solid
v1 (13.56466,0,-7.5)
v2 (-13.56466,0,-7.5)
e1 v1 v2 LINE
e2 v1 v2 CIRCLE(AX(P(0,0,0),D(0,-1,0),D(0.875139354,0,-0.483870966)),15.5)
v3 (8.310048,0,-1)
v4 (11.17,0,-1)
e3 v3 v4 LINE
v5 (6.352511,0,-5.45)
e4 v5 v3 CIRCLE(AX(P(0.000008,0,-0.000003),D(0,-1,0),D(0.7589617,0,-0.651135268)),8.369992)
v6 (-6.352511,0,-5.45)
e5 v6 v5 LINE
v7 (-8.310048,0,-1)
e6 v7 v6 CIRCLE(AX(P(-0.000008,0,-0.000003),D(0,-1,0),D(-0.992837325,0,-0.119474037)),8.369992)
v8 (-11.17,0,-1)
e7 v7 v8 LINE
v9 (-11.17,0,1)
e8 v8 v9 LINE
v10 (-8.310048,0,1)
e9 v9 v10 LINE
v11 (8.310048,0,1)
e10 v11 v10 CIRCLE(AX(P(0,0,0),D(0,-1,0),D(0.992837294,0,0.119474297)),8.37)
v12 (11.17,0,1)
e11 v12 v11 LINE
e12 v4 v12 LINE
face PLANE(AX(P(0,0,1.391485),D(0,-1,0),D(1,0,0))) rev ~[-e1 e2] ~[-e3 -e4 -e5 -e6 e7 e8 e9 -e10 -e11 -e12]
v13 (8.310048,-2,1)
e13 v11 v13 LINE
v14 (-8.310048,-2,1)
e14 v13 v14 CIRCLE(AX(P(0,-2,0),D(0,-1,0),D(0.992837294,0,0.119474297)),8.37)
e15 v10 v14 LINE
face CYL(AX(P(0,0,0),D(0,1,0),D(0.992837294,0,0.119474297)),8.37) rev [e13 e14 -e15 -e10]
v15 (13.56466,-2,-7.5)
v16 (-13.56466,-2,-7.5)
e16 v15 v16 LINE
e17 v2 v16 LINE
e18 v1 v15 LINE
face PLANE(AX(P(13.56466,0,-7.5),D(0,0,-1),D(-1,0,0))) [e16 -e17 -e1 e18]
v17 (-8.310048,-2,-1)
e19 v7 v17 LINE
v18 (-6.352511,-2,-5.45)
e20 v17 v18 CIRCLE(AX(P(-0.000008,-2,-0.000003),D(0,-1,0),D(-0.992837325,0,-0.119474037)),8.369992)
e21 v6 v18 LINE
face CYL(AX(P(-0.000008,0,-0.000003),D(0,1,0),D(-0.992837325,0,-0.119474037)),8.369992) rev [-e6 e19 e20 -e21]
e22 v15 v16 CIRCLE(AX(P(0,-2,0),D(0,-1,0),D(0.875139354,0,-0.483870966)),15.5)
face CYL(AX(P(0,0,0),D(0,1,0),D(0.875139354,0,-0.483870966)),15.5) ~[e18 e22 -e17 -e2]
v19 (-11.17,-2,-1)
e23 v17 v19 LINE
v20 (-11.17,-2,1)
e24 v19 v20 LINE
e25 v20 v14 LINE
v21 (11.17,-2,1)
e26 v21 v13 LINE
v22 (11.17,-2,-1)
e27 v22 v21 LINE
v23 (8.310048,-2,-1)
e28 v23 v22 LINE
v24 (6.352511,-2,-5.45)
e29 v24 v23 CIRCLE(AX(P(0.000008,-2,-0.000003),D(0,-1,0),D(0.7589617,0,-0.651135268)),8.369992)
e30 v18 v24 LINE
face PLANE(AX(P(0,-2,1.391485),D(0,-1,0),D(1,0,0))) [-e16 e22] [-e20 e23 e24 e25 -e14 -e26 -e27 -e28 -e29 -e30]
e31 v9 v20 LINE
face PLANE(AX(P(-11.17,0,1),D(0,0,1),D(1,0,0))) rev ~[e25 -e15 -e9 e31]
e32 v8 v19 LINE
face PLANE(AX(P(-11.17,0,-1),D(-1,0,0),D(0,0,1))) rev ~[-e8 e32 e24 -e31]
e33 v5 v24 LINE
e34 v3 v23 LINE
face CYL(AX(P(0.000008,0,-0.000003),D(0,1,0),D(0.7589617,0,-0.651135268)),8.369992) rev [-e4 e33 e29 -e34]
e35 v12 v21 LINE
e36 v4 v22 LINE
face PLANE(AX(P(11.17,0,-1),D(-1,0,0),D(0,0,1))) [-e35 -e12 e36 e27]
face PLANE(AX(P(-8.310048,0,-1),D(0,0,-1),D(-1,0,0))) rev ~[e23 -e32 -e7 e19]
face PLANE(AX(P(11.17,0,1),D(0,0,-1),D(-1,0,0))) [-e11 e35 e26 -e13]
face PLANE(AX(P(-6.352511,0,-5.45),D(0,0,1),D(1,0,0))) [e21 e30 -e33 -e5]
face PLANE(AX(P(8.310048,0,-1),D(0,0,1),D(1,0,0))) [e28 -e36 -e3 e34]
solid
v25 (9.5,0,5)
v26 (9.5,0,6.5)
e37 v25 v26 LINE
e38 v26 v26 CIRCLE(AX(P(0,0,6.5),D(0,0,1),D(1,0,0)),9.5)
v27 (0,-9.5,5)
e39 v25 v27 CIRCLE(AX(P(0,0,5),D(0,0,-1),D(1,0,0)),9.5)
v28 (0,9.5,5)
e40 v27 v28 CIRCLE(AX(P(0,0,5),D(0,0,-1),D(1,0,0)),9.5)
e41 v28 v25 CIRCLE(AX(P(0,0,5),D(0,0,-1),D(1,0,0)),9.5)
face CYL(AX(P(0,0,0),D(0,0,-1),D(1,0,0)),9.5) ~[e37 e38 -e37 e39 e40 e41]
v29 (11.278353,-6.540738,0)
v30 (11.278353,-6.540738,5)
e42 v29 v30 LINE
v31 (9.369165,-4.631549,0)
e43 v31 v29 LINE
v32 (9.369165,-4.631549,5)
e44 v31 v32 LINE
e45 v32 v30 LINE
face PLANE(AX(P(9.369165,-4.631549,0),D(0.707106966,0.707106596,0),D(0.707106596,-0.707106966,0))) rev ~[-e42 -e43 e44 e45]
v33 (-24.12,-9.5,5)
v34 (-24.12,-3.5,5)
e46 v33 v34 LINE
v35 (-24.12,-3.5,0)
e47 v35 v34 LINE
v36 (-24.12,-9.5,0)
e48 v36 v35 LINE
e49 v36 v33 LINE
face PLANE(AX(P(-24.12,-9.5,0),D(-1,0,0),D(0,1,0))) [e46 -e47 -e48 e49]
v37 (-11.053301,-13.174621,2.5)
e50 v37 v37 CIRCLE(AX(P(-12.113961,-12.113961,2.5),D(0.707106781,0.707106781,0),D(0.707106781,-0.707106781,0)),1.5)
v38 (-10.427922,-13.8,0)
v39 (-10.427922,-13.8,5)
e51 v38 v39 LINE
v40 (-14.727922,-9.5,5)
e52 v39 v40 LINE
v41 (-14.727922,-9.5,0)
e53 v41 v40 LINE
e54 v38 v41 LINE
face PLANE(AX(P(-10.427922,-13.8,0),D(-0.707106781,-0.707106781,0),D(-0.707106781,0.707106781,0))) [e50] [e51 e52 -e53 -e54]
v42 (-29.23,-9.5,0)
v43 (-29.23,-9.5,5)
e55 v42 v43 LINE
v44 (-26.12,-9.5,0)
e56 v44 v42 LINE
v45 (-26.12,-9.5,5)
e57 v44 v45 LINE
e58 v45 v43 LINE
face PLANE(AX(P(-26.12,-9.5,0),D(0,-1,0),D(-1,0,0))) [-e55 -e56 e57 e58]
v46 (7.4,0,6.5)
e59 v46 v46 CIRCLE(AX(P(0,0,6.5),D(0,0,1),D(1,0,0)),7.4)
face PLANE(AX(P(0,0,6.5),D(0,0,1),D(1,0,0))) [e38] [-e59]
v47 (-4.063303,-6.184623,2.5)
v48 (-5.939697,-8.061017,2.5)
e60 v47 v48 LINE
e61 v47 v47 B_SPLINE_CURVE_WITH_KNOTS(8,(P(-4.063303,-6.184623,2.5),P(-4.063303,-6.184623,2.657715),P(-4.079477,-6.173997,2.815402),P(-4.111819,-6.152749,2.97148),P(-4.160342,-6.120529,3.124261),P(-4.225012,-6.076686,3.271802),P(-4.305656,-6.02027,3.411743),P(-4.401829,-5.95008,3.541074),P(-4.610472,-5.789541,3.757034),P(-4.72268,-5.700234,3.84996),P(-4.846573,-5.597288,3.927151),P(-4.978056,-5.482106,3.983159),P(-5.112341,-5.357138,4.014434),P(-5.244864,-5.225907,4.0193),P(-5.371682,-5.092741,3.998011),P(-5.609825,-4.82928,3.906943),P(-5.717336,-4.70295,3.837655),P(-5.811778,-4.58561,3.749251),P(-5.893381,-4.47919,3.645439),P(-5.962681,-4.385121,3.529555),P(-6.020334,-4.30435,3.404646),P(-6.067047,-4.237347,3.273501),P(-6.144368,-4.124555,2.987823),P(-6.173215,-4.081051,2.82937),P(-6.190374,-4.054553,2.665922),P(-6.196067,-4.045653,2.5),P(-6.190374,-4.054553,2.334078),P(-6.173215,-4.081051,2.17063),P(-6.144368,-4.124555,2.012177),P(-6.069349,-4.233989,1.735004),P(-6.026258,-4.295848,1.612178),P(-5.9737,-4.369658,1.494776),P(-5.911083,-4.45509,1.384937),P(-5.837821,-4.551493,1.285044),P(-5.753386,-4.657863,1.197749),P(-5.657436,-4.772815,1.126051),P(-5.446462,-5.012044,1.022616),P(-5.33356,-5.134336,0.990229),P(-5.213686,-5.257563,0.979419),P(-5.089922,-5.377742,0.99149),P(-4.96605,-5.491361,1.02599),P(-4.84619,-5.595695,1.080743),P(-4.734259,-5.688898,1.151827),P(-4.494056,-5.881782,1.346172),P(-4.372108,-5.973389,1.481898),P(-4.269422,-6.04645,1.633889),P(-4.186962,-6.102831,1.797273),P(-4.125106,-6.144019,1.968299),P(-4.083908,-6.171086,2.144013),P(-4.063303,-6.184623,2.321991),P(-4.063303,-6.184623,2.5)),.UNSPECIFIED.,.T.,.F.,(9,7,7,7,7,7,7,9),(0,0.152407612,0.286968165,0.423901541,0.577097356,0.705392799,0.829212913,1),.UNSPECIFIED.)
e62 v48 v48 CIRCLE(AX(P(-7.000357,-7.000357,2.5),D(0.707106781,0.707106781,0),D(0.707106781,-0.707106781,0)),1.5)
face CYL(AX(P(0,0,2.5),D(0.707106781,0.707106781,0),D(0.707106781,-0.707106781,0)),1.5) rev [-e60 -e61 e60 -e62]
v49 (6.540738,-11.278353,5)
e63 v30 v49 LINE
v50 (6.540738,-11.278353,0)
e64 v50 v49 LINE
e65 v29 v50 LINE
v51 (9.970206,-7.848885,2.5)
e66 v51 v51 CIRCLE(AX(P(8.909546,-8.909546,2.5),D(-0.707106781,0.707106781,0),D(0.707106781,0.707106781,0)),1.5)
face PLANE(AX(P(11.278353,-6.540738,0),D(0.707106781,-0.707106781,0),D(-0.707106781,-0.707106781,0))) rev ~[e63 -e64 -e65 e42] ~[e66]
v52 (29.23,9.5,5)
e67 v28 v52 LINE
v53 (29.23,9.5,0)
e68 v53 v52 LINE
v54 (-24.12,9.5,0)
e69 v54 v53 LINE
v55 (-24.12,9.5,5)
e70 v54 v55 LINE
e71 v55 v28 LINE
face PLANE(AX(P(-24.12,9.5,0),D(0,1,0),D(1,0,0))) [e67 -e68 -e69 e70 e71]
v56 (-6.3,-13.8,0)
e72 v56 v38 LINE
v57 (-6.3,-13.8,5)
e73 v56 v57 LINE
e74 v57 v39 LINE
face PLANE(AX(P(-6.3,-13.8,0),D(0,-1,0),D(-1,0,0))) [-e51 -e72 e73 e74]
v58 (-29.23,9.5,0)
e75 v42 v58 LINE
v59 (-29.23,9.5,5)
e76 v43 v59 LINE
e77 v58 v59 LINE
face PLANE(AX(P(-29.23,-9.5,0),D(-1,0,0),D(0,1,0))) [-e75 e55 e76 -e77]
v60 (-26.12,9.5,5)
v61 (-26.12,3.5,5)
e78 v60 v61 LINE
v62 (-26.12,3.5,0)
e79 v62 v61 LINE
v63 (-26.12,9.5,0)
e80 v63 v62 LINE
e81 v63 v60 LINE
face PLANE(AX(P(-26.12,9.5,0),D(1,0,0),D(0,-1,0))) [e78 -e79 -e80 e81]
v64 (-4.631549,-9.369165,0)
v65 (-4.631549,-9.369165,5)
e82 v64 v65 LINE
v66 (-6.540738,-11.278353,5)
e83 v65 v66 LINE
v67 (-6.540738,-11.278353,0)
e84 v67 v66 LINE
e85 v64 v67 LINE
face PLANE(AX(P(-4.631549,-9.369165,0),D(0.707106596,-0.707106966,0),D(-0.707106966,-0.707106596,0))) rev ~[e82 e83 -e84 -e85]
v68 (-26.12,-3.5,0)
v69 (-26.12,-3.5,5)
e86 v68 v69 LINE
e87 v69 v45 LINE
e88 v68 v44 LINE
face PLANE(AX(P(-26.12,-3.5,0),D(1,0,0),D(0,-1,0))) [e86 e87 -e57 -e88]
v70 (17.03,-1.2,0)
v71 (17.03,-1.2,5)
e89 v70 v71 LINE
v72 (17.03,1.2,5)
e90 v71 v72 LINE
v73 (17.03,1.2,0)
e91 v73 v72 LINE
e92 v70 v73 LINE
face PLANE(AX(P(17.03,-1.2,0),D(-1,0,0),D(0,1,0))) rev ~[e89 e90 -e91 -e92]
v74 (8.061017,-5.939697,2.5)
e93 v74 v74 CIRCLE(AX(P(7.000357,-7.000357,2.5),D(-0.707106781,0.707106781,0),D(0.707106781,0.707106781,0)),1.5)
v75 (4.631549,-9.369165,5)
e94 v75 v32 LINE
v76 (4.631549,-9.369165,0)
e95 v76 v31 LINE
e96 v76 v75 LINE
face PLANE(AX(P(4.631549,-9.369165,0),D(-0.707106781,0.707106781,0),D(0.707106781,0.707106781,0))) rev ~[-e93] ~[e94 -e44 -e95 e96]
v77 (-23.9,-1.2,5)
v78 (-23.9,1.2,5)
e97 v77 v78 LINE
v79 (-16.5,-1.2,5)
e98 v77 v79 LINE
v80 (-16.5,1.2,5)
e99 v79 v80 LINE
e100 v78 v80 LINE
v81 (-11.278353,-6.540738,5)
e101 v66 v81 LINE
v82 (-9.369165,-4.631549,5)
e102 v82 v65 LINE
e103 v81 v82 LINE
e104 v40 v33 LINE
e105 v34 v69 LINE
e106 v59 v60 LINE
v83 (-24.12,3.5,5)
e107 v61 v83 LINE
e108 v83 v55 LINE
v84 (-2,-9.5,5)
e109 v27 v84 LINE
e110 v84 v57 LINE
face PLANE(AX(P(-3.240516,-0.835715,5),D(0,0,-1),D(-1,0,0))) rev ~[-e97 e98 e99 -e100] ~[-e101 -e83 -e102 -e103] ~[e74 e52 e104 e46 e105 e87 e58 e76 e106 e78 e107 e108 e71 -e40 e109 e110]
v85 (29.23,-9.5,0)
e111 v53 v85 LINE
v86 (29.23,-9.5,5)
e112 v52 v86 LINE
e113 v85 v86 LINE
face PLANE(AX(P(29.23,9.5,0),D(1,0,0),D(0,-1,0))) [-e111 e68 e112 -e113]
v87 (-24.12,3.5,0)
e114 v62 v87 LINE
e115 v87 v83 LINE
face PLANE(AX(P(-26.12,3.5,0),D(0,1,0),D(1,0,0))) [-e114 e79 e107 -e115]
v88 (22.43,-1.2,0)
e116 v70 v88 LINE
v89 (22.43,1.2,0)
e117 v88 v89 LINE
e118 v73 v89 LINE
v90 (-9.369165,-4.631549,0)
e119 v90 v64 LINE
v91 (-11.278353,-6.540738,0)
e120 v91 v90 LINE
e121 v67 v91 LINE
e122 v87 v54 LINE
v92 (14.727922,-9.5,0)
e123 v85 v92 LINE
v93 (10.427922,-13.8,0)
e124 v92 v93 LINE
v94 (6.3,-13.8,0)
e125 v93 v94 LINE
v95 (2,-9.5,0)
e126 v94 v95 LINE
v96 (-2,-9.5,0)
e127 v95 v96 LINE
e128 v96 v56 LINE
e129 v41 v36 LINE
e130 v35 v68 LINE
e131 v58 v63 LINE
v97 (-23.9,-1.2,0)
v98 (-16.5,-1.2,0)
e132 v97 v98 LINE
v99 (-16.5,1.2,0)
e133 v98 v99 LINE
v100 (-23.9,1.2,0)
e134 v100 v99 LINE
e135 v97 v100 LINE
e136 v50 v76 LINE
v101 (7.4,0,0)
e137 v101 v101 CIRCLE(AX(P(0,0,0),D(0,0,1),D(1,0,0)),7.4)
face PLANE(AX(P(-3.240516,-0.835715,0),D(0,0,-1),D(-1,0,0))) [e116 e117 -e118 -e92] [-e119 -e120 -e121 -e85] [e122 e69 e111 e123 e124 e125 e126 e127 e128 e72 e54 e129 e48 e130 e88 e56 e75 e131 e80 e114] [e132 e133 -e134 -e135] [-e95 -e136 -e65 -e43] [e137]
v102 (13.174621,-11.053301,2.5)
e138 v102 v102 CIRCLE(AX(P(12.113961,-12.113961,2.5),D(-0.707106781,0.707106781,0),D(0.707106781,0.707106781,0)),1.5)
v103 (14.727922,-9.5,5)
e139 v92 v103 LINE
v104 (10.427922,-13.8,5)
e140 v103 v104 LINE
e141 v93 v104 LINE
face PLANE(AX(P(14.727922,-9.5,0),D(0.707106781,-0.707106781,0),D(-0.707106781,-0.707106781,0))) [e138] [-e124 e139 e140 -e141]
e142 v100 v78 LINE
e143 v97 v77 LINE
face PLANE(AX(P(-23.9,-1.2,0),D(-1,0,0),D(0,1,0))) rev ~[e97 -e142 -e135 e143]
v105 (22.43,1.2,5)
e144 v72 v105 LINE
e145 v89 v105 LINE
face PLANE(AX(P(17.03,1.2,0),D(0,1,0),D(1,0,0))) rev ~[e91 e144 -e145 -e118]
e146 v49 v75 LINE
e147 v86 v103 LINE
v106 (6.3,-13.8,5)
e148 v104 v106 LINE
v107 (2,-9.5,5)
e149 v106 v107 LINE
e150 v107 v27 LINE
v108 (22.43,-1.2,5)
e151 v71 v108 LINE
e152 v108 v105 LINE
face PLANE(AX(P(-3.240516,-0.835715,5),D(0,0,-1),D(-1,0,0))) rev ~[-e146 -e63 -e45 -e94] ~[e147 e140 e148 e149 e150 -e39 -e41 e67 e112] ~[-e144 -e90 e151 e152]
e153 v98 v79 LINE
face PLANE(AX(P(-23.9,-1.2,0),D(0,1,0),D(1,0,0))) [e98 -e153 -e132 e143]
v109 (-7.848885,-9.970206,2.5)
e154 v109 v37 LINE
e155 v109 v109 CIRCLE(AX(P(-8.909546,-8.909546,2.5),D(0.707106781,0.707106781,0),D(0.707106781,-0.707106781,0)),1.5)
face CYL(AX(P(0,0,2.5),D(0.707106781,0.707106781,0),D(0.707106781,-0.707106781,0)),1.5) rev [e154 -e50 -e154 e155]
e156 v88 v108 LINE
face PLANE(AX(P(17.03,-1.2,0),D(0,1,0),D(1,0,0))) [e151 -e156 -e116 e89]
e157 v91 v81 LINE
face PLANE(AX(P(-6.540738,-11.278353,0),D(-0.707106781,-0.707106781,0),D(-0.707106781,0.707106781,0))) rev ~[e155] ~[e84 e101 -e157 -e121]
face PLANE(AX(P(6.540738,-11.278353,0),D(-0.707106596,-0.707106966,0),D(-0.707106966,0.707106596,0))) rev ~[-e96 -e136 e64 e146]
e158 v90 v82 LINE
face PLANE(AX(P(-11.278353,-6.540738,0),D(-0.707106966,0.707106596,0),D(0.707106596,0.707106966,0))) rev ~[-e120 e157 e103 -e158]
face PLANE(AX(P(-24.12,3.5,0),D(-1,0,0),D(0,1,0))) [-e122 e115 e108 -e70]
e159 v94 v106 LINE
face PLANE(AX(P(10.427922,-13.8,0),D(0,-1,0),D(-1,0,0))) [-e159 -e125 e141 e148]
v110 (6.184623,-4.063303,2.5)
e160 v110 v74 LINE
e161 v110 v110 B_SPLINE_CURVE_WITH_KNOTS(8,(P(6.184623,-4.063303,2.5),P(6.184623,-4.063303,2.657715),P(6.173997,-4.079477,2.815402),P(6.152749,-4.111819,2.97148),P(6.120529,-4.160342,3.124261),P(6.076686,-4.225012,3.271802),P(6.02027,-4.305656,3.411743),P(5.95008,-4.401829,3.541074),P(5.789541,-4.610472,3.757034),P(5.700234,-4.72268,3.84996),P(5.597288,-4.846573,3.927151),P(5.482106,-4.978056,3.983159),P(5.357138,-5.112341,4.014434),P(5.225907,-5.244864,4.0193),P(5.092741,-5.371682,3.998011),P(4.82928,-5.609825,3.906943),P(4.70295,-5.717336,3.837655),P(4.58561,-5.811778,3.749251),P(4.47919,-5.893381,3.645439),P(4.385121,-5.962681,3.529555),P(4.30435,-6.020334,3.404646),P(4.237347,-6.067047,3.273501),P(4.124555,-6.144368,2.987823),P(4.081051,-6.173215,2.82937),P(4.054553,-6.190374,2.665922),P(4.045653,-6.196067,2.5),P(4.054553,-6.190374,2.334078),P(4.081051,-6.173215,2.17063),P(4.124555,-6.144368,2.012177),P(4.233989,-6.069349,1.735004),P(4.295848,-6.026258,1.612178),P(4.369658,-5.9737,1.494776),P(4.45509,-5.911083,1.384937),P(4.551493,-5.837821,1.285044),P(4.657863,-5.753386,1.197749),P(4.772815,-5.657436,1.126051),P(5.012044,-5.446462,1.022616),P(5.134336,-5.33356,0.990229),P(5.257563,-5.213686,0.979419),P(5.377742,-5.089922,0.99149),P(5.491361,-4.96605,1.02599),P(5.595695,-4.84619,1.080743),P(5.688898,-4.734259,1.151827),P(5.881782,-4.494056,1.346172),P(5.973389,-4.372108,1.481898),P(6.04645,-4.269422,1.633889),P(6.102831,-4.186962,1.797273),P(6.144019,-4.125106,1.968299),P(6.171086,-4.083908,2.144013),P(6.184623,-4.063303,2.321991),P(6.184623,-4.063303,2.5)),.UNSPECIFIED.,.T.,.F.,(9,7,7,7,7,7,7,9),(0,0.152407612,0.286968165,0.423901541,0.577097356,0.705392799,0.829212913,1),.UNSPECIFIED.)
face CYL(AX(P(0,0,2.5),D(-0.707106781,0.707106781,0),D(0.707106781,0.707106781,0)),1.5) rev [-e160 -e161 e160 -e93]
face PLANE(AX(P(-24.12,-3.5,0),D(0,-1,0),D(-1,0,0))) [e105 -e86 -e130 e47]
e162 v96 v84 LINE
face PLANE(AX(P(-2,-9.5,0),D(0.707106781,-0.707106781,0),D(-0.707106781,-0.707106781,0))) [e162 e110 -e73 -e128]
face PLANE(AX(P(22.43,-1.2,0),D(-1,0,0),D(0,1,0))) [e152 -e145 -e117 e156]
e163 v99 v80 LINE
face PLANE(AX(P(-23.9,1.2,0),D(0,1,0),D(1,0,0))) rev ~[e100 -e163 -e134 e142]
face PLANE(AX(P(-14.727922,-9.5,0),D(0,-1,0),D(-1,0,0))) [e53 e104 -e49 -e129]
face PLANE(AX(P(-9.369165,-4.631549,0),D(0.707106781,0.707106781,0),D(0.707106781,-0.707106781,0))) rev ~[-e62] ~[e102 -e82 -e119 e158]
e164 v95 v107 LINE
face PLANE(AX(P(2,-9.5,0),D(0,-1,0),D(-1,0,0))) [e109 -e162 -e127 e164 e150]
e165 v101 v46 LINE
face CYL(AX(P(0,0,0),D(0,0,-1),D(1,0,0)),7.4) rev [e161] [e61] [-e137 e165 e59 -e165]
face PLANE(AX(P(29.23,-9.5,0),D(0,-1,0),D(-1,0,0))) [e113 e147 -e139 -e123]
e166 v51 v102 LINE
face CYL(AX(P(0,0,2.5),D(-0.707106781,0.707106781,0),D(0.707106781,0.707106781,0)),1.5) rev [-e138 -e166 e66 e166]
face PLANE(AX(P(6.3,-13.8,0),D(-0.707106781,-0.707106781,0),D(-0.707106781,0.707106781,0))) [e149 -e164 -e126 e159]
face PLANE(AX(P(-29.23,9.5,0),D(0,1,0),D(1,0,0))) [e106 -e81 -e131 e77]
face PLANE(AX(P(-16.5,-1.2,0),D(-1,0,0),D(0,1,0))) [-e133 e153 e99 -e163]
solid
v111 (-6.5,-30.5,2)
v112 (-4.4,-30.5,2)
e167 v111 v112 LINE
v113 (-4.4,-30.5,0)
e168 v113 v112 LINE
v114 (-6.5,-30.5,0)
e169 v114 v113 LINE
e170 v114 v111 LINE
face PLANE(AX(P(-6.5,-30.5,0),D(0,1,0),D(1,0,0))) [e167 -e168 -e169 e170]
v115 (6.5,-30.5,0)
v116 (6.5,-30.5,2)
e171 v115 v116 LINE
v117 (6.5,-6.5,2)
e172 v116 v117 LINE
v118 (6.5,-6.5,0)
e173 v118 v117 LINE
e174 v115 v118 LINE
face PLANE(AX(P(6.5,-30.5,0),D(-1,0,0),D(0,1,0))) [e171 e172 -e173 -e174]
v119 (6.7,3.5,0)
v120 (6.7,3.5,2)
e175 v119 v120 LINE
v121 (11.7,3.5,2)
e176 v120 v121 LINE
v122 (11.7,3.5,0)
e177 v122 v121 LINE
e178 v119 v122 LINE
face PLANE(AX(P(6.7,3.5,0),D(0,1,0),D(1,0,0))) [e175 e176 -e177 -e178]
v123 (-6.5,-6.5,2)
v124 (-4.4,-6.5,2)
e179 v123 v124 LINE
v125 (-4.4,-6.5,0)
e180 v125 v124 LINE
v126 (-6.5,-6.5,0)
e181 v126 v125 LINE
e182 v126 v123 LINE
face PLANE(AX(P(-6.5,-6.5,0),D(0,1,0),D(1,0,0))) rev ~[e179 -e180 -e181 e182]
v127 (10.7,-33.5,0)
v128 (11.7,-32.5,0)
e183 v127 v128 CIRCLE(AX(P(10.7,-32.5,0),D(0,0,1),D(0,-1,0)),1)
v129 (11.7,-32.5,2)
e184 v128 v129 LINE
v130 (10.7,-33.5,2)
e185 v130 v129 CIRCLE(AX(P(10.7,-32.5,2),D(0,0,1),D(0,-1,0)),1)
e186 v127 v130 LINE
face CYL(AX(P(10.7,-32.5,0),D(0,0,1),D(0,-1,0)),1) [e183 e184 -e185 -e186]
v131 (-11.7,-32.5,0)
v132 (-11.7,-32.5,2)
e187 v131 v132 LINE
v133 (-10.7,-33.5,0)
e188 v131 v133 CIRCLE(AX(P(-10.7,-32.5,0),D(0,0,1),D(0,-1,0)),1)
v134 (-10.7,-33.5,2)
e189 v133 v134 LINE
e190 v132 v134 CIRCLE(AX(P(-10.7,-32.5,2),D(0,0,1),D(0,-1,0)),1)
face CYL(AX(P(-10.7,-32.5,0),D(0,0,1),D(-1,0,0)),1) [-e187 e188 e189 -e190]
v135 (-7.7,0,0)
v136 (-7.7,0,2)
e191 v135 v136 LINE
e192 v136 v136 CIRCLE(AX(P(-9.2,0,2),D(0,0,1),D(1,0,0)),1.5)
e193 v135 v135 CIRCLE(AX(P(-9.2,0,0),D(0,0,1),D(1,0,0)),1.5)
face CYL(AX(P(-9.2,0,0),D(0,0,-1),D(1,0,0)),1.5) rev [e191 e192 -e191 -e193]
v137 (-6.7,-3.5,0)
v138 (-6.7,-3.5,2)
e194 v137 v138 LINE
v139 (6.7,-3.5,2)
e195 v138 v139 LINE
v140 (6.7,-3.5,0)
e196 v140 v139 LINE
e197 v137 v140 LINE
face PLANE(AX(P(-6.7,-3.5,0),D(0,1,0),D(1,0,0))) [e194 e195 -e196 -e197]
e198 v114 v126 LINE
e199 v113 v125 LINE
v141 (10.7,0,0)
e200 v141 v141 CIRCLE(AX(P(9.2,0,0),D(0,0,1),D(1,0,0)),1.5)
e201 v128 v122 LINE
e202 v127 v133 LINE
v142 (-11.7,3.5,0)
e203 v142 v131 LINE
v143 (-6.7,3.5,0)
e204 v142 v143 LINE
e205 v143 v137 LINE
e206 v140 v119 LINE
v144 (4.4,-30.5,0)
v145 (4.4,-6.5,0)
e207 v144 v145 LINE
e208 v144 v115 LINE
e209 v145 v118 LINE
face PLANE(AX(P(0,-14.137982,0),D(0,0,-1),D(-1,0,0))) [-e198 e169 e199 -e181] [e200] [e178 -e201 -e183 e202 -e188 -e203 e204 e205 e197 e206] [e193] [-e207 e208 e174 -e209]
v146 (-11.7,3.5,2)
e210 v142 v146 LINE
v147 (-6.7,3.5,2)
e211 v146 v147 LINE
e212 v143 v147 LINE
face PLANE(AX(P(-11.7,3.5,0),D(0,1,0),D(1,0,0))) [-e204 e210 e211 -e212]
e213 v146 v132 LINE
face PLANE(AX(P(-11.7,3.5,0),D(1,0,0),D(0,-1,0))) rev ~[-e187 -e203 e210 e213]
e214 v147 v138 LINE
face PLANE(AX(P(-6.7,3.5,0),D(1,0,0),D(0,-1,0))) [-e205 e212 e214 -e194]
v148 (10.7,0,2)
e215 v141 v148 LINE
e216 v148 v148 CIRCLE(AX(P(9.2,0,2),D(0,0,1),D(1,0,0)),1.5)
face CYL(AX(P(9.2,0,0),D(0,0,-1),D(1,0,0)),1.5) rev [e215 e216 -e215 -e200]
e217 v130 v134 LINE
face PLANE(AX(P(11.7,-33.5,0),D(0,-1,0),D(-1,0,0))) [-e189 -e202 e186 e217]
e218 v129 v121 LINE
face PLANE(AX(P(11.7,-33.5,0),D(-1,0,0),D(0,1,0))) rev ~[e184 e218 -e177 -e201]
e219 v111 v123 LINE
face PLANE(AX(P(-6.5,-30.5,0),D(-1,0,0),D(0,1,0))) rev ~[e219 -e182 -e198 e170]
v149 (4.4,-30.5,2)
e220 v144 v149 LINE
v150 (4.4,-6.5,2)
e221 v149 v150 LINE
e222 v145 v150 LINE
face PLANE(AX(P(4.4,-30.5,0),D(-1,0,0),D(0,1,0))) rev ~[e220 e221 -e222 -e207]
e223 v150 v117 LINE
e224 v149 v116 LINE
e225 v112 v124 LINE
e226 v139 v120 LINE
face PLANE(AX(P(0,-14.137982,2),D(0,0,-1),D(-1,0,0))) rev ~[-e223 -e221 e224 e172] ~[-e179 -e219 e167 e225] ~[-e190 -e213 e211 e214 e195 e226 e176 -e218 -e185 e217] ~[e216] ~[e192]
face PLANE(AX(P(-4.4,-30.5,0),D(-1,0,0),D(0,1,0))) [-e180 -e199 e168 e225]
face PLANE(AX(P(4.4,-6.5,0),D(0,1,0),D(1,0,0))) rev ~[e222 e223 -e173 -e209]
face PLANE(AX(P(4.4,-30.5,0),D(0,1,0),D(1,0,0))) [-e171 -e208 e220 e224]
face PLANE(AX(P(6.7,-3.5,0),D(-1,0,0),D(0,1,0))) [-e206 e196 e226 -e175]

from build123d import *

# Parameters (mm, degrees)
SKETCH_R           = 1.5
SKETCH_W           = 2.1
SKETCH_H           = 24
PAD_DEPTH          = 2
FILLET_R           = 1
SKETCH001_R        = 7.4
SKETCH001_W        = 5.4
SKETCH001_H        = 2.4
SKETCH001_W_2      = 7.4
PAD001_DEPTH       = 5
SKETCH002_R        = 9.5
SKETCH002_R_2      = 7.4
PAD002_DEPTH       = 6.5
SKETCH003_R        = 1.5
POCKET_DEPTH       = 156.961778
POLARPATTERN_COUNT = 2
POLARPATTERN_ANGLE = 90
SKETCH004_R        = 1.05
POCKET001_DEPTH    = 15
PAD003_DEPTH       = 2


with BuildPart() as holder_optostop:
    # Sketch → Pad (new body)
    with BuildSketch(Plane.XY):
        Polygon((-11.7, 3.5), (-6.7, 3.5), (-6.7, -3.5), (6.7, -3.5), (6.7, 3.5), (11.7, 3.5), (11.7, -3.5), (11.7, -33.5), (-11.7, -33.5), (-11.7, -3.5), align=None)
        with Locations((-9.2, 0)):
            Circle(SKETCH_R, mode=Mode.SUBTRACT)
        with Locations((9.2, 0)):
            Circle(SKETCH_R, mode=Mode.SUBTRACT)
        with Locations((-5.45, -18.5)):
            Rectangle(SKETCH_W, SKETCH_H, mode=Mode.SUBTRACT)
        with Locations((5.45, -18.5)):
            Rectangle(SKETCH_W, SKETCH_H, mode=Mode.SUBTRACT)
    extrude(amount=PAD_DEPTH)

    # Fillet
    fillet_edges = [holder_optostop.edges().sort_by_distance(p)[0] for p in [
        (-11.7, -33.5, 1),
        (11.7, -33.5, 1),
    ]]
    fillet(fillet_edges, radius=FILLET_R)


with BuildPart() as gilson_probe_fastener:
    # Sketch001 → Pad001 (new body)
    with BuildSketch(Plane.XY):
        Polygon((29.23, 9.5), (29.23, -9.5), (14.727922, -9.5), (10.427922, -13.8), (6.3, -13.8), (2, -9.5), (-2, -9.5), (-6.3, -13.8), (-10.427922, -13.8), (-14.727922, -9.5), (-24.12, -9.5), (-24.12, -3.5), (-26.12, -3.5), (-26.12, -9.5), (-29.23, -9.5), (-29.23, 9.5), (-26.12, 9.5), (-26.12, 3.5), (-24.12, 3.5), (-24.12, 9.5), align=None)
        Circle(SKETCH001_R, mode=Mode.SUBTRACT)
        Polygon((4.631549, -9.369165), (9.369165, -4.631549), (11.278353, -6.540738), (6.540738, -11.278353), align=None, mode=Mode.SUBTRACT)
        Polygon((-9.369165, -4.631549), (-4.631549, -9.369165), (-6.540738, -11.278353), (-11.278353, -6.540738), align=None, mode=Mode.SUBTRACT)
        with Locations((19.73, 0)):
            Rectangle(SKETCH001_W, SKETCH001_H, mode=Mode.SUBTRACT)
        with Locations((-20.2, 0)):
            Rectangle(SKETCH001_W_2, SKETCH001_H, mode=Mode.SUBTRACT)
    extrude(amount=PAD001_DEPTH)

    # Sketch002 → Pad002 (join)
    with BuildSketch(Plane.XY):
        Circle(SKETCH002_R)
        Circle(SKETCH002_R_2, mode=Mode.SUBTRACT)
    extrude(amount=PAD002_DEPTH)

    # Sketch003 → Pocket (cut, through all)
    with BuildSketch(Plane(origin=(0, 0, 0), x_dir=(0.707107, 0.707107, 0), z_dir=(0.707107, -0.707107, 0))):
        with Locations((0, 2.5)):
            Circle(SKETCH003_R)
    pocket = extrude(amount=POCKET_DEPTH, mode=Mode.SUBTRACT)

    # PolarPattern: Pocket ×2 about axis
    polarpattern_axis = Axis((0, 0, 0), (0, 0, -1))
    for i in range(1, POLARPATTERN_COUNT):
        add(pocket.rotate(polarpattern_axis, i * POLARPATTERN_ANGLE / (POLARPATTERN_COUNT - 1)), mode=Mode.SUBTRACT)

    # Sketch004 → Pocket001 (cut)
    with BuildSketch(Plane.YZ.offset(-30)):
        with Locations((-11.65, 2.5)):
            Circle(SKETCH004_R)
        with Locations((11.65, 2.5)):
            Circle(SKETCH004_R)
    extrude(amount=POCKET001_DEPTH, mode=Mode.SUBTRACT)


with BuildPart() as probe_holder_rings:
    # Sketch005 → Pad003 (new body)
    with BuildSketch(Plane.XZ):
        with BuildLine():
            ThreePointArc((13.56466, -7.5), (0, 15.5), (-13.56466, -7.5))
            Line((13.56466, -7.5), (-13.56466, -7.5))
        make_face()
        with BuildLine():
            ThreePointArc((8.310048, 1), (0, 8.37), (-8.310048, 1))
            Line((-11.17, 1), (-8.310048, 1))
            Line((-11.17, -1), (-11.17, 1))
            Line((-8.310048, -1), (-11.17, -1))
            ThreePointArc((-8.310048, -1), (-7.661481, -3.370254), (-6.352511, -5.45))
            Line((-6.352511, -5.45), (6.352511, -5.45))
            ThreePointArc((6.352511, -5.45), (7.661481, -3.370254), (8.310048, -1))
            Line((8.310048, -1), (11.17, -1))
            Line((11.17, -1), (11.17, 1))
            Line((11.17, 1), (8.310048, 1))
        make_face(mode=Mode.SUBTRACT)
    extrude(amount=PAD003_DEPTH)


solid = Compound([holder_optostop.part, gilson_probe_fastener.part, probe_holder_rings.part])
